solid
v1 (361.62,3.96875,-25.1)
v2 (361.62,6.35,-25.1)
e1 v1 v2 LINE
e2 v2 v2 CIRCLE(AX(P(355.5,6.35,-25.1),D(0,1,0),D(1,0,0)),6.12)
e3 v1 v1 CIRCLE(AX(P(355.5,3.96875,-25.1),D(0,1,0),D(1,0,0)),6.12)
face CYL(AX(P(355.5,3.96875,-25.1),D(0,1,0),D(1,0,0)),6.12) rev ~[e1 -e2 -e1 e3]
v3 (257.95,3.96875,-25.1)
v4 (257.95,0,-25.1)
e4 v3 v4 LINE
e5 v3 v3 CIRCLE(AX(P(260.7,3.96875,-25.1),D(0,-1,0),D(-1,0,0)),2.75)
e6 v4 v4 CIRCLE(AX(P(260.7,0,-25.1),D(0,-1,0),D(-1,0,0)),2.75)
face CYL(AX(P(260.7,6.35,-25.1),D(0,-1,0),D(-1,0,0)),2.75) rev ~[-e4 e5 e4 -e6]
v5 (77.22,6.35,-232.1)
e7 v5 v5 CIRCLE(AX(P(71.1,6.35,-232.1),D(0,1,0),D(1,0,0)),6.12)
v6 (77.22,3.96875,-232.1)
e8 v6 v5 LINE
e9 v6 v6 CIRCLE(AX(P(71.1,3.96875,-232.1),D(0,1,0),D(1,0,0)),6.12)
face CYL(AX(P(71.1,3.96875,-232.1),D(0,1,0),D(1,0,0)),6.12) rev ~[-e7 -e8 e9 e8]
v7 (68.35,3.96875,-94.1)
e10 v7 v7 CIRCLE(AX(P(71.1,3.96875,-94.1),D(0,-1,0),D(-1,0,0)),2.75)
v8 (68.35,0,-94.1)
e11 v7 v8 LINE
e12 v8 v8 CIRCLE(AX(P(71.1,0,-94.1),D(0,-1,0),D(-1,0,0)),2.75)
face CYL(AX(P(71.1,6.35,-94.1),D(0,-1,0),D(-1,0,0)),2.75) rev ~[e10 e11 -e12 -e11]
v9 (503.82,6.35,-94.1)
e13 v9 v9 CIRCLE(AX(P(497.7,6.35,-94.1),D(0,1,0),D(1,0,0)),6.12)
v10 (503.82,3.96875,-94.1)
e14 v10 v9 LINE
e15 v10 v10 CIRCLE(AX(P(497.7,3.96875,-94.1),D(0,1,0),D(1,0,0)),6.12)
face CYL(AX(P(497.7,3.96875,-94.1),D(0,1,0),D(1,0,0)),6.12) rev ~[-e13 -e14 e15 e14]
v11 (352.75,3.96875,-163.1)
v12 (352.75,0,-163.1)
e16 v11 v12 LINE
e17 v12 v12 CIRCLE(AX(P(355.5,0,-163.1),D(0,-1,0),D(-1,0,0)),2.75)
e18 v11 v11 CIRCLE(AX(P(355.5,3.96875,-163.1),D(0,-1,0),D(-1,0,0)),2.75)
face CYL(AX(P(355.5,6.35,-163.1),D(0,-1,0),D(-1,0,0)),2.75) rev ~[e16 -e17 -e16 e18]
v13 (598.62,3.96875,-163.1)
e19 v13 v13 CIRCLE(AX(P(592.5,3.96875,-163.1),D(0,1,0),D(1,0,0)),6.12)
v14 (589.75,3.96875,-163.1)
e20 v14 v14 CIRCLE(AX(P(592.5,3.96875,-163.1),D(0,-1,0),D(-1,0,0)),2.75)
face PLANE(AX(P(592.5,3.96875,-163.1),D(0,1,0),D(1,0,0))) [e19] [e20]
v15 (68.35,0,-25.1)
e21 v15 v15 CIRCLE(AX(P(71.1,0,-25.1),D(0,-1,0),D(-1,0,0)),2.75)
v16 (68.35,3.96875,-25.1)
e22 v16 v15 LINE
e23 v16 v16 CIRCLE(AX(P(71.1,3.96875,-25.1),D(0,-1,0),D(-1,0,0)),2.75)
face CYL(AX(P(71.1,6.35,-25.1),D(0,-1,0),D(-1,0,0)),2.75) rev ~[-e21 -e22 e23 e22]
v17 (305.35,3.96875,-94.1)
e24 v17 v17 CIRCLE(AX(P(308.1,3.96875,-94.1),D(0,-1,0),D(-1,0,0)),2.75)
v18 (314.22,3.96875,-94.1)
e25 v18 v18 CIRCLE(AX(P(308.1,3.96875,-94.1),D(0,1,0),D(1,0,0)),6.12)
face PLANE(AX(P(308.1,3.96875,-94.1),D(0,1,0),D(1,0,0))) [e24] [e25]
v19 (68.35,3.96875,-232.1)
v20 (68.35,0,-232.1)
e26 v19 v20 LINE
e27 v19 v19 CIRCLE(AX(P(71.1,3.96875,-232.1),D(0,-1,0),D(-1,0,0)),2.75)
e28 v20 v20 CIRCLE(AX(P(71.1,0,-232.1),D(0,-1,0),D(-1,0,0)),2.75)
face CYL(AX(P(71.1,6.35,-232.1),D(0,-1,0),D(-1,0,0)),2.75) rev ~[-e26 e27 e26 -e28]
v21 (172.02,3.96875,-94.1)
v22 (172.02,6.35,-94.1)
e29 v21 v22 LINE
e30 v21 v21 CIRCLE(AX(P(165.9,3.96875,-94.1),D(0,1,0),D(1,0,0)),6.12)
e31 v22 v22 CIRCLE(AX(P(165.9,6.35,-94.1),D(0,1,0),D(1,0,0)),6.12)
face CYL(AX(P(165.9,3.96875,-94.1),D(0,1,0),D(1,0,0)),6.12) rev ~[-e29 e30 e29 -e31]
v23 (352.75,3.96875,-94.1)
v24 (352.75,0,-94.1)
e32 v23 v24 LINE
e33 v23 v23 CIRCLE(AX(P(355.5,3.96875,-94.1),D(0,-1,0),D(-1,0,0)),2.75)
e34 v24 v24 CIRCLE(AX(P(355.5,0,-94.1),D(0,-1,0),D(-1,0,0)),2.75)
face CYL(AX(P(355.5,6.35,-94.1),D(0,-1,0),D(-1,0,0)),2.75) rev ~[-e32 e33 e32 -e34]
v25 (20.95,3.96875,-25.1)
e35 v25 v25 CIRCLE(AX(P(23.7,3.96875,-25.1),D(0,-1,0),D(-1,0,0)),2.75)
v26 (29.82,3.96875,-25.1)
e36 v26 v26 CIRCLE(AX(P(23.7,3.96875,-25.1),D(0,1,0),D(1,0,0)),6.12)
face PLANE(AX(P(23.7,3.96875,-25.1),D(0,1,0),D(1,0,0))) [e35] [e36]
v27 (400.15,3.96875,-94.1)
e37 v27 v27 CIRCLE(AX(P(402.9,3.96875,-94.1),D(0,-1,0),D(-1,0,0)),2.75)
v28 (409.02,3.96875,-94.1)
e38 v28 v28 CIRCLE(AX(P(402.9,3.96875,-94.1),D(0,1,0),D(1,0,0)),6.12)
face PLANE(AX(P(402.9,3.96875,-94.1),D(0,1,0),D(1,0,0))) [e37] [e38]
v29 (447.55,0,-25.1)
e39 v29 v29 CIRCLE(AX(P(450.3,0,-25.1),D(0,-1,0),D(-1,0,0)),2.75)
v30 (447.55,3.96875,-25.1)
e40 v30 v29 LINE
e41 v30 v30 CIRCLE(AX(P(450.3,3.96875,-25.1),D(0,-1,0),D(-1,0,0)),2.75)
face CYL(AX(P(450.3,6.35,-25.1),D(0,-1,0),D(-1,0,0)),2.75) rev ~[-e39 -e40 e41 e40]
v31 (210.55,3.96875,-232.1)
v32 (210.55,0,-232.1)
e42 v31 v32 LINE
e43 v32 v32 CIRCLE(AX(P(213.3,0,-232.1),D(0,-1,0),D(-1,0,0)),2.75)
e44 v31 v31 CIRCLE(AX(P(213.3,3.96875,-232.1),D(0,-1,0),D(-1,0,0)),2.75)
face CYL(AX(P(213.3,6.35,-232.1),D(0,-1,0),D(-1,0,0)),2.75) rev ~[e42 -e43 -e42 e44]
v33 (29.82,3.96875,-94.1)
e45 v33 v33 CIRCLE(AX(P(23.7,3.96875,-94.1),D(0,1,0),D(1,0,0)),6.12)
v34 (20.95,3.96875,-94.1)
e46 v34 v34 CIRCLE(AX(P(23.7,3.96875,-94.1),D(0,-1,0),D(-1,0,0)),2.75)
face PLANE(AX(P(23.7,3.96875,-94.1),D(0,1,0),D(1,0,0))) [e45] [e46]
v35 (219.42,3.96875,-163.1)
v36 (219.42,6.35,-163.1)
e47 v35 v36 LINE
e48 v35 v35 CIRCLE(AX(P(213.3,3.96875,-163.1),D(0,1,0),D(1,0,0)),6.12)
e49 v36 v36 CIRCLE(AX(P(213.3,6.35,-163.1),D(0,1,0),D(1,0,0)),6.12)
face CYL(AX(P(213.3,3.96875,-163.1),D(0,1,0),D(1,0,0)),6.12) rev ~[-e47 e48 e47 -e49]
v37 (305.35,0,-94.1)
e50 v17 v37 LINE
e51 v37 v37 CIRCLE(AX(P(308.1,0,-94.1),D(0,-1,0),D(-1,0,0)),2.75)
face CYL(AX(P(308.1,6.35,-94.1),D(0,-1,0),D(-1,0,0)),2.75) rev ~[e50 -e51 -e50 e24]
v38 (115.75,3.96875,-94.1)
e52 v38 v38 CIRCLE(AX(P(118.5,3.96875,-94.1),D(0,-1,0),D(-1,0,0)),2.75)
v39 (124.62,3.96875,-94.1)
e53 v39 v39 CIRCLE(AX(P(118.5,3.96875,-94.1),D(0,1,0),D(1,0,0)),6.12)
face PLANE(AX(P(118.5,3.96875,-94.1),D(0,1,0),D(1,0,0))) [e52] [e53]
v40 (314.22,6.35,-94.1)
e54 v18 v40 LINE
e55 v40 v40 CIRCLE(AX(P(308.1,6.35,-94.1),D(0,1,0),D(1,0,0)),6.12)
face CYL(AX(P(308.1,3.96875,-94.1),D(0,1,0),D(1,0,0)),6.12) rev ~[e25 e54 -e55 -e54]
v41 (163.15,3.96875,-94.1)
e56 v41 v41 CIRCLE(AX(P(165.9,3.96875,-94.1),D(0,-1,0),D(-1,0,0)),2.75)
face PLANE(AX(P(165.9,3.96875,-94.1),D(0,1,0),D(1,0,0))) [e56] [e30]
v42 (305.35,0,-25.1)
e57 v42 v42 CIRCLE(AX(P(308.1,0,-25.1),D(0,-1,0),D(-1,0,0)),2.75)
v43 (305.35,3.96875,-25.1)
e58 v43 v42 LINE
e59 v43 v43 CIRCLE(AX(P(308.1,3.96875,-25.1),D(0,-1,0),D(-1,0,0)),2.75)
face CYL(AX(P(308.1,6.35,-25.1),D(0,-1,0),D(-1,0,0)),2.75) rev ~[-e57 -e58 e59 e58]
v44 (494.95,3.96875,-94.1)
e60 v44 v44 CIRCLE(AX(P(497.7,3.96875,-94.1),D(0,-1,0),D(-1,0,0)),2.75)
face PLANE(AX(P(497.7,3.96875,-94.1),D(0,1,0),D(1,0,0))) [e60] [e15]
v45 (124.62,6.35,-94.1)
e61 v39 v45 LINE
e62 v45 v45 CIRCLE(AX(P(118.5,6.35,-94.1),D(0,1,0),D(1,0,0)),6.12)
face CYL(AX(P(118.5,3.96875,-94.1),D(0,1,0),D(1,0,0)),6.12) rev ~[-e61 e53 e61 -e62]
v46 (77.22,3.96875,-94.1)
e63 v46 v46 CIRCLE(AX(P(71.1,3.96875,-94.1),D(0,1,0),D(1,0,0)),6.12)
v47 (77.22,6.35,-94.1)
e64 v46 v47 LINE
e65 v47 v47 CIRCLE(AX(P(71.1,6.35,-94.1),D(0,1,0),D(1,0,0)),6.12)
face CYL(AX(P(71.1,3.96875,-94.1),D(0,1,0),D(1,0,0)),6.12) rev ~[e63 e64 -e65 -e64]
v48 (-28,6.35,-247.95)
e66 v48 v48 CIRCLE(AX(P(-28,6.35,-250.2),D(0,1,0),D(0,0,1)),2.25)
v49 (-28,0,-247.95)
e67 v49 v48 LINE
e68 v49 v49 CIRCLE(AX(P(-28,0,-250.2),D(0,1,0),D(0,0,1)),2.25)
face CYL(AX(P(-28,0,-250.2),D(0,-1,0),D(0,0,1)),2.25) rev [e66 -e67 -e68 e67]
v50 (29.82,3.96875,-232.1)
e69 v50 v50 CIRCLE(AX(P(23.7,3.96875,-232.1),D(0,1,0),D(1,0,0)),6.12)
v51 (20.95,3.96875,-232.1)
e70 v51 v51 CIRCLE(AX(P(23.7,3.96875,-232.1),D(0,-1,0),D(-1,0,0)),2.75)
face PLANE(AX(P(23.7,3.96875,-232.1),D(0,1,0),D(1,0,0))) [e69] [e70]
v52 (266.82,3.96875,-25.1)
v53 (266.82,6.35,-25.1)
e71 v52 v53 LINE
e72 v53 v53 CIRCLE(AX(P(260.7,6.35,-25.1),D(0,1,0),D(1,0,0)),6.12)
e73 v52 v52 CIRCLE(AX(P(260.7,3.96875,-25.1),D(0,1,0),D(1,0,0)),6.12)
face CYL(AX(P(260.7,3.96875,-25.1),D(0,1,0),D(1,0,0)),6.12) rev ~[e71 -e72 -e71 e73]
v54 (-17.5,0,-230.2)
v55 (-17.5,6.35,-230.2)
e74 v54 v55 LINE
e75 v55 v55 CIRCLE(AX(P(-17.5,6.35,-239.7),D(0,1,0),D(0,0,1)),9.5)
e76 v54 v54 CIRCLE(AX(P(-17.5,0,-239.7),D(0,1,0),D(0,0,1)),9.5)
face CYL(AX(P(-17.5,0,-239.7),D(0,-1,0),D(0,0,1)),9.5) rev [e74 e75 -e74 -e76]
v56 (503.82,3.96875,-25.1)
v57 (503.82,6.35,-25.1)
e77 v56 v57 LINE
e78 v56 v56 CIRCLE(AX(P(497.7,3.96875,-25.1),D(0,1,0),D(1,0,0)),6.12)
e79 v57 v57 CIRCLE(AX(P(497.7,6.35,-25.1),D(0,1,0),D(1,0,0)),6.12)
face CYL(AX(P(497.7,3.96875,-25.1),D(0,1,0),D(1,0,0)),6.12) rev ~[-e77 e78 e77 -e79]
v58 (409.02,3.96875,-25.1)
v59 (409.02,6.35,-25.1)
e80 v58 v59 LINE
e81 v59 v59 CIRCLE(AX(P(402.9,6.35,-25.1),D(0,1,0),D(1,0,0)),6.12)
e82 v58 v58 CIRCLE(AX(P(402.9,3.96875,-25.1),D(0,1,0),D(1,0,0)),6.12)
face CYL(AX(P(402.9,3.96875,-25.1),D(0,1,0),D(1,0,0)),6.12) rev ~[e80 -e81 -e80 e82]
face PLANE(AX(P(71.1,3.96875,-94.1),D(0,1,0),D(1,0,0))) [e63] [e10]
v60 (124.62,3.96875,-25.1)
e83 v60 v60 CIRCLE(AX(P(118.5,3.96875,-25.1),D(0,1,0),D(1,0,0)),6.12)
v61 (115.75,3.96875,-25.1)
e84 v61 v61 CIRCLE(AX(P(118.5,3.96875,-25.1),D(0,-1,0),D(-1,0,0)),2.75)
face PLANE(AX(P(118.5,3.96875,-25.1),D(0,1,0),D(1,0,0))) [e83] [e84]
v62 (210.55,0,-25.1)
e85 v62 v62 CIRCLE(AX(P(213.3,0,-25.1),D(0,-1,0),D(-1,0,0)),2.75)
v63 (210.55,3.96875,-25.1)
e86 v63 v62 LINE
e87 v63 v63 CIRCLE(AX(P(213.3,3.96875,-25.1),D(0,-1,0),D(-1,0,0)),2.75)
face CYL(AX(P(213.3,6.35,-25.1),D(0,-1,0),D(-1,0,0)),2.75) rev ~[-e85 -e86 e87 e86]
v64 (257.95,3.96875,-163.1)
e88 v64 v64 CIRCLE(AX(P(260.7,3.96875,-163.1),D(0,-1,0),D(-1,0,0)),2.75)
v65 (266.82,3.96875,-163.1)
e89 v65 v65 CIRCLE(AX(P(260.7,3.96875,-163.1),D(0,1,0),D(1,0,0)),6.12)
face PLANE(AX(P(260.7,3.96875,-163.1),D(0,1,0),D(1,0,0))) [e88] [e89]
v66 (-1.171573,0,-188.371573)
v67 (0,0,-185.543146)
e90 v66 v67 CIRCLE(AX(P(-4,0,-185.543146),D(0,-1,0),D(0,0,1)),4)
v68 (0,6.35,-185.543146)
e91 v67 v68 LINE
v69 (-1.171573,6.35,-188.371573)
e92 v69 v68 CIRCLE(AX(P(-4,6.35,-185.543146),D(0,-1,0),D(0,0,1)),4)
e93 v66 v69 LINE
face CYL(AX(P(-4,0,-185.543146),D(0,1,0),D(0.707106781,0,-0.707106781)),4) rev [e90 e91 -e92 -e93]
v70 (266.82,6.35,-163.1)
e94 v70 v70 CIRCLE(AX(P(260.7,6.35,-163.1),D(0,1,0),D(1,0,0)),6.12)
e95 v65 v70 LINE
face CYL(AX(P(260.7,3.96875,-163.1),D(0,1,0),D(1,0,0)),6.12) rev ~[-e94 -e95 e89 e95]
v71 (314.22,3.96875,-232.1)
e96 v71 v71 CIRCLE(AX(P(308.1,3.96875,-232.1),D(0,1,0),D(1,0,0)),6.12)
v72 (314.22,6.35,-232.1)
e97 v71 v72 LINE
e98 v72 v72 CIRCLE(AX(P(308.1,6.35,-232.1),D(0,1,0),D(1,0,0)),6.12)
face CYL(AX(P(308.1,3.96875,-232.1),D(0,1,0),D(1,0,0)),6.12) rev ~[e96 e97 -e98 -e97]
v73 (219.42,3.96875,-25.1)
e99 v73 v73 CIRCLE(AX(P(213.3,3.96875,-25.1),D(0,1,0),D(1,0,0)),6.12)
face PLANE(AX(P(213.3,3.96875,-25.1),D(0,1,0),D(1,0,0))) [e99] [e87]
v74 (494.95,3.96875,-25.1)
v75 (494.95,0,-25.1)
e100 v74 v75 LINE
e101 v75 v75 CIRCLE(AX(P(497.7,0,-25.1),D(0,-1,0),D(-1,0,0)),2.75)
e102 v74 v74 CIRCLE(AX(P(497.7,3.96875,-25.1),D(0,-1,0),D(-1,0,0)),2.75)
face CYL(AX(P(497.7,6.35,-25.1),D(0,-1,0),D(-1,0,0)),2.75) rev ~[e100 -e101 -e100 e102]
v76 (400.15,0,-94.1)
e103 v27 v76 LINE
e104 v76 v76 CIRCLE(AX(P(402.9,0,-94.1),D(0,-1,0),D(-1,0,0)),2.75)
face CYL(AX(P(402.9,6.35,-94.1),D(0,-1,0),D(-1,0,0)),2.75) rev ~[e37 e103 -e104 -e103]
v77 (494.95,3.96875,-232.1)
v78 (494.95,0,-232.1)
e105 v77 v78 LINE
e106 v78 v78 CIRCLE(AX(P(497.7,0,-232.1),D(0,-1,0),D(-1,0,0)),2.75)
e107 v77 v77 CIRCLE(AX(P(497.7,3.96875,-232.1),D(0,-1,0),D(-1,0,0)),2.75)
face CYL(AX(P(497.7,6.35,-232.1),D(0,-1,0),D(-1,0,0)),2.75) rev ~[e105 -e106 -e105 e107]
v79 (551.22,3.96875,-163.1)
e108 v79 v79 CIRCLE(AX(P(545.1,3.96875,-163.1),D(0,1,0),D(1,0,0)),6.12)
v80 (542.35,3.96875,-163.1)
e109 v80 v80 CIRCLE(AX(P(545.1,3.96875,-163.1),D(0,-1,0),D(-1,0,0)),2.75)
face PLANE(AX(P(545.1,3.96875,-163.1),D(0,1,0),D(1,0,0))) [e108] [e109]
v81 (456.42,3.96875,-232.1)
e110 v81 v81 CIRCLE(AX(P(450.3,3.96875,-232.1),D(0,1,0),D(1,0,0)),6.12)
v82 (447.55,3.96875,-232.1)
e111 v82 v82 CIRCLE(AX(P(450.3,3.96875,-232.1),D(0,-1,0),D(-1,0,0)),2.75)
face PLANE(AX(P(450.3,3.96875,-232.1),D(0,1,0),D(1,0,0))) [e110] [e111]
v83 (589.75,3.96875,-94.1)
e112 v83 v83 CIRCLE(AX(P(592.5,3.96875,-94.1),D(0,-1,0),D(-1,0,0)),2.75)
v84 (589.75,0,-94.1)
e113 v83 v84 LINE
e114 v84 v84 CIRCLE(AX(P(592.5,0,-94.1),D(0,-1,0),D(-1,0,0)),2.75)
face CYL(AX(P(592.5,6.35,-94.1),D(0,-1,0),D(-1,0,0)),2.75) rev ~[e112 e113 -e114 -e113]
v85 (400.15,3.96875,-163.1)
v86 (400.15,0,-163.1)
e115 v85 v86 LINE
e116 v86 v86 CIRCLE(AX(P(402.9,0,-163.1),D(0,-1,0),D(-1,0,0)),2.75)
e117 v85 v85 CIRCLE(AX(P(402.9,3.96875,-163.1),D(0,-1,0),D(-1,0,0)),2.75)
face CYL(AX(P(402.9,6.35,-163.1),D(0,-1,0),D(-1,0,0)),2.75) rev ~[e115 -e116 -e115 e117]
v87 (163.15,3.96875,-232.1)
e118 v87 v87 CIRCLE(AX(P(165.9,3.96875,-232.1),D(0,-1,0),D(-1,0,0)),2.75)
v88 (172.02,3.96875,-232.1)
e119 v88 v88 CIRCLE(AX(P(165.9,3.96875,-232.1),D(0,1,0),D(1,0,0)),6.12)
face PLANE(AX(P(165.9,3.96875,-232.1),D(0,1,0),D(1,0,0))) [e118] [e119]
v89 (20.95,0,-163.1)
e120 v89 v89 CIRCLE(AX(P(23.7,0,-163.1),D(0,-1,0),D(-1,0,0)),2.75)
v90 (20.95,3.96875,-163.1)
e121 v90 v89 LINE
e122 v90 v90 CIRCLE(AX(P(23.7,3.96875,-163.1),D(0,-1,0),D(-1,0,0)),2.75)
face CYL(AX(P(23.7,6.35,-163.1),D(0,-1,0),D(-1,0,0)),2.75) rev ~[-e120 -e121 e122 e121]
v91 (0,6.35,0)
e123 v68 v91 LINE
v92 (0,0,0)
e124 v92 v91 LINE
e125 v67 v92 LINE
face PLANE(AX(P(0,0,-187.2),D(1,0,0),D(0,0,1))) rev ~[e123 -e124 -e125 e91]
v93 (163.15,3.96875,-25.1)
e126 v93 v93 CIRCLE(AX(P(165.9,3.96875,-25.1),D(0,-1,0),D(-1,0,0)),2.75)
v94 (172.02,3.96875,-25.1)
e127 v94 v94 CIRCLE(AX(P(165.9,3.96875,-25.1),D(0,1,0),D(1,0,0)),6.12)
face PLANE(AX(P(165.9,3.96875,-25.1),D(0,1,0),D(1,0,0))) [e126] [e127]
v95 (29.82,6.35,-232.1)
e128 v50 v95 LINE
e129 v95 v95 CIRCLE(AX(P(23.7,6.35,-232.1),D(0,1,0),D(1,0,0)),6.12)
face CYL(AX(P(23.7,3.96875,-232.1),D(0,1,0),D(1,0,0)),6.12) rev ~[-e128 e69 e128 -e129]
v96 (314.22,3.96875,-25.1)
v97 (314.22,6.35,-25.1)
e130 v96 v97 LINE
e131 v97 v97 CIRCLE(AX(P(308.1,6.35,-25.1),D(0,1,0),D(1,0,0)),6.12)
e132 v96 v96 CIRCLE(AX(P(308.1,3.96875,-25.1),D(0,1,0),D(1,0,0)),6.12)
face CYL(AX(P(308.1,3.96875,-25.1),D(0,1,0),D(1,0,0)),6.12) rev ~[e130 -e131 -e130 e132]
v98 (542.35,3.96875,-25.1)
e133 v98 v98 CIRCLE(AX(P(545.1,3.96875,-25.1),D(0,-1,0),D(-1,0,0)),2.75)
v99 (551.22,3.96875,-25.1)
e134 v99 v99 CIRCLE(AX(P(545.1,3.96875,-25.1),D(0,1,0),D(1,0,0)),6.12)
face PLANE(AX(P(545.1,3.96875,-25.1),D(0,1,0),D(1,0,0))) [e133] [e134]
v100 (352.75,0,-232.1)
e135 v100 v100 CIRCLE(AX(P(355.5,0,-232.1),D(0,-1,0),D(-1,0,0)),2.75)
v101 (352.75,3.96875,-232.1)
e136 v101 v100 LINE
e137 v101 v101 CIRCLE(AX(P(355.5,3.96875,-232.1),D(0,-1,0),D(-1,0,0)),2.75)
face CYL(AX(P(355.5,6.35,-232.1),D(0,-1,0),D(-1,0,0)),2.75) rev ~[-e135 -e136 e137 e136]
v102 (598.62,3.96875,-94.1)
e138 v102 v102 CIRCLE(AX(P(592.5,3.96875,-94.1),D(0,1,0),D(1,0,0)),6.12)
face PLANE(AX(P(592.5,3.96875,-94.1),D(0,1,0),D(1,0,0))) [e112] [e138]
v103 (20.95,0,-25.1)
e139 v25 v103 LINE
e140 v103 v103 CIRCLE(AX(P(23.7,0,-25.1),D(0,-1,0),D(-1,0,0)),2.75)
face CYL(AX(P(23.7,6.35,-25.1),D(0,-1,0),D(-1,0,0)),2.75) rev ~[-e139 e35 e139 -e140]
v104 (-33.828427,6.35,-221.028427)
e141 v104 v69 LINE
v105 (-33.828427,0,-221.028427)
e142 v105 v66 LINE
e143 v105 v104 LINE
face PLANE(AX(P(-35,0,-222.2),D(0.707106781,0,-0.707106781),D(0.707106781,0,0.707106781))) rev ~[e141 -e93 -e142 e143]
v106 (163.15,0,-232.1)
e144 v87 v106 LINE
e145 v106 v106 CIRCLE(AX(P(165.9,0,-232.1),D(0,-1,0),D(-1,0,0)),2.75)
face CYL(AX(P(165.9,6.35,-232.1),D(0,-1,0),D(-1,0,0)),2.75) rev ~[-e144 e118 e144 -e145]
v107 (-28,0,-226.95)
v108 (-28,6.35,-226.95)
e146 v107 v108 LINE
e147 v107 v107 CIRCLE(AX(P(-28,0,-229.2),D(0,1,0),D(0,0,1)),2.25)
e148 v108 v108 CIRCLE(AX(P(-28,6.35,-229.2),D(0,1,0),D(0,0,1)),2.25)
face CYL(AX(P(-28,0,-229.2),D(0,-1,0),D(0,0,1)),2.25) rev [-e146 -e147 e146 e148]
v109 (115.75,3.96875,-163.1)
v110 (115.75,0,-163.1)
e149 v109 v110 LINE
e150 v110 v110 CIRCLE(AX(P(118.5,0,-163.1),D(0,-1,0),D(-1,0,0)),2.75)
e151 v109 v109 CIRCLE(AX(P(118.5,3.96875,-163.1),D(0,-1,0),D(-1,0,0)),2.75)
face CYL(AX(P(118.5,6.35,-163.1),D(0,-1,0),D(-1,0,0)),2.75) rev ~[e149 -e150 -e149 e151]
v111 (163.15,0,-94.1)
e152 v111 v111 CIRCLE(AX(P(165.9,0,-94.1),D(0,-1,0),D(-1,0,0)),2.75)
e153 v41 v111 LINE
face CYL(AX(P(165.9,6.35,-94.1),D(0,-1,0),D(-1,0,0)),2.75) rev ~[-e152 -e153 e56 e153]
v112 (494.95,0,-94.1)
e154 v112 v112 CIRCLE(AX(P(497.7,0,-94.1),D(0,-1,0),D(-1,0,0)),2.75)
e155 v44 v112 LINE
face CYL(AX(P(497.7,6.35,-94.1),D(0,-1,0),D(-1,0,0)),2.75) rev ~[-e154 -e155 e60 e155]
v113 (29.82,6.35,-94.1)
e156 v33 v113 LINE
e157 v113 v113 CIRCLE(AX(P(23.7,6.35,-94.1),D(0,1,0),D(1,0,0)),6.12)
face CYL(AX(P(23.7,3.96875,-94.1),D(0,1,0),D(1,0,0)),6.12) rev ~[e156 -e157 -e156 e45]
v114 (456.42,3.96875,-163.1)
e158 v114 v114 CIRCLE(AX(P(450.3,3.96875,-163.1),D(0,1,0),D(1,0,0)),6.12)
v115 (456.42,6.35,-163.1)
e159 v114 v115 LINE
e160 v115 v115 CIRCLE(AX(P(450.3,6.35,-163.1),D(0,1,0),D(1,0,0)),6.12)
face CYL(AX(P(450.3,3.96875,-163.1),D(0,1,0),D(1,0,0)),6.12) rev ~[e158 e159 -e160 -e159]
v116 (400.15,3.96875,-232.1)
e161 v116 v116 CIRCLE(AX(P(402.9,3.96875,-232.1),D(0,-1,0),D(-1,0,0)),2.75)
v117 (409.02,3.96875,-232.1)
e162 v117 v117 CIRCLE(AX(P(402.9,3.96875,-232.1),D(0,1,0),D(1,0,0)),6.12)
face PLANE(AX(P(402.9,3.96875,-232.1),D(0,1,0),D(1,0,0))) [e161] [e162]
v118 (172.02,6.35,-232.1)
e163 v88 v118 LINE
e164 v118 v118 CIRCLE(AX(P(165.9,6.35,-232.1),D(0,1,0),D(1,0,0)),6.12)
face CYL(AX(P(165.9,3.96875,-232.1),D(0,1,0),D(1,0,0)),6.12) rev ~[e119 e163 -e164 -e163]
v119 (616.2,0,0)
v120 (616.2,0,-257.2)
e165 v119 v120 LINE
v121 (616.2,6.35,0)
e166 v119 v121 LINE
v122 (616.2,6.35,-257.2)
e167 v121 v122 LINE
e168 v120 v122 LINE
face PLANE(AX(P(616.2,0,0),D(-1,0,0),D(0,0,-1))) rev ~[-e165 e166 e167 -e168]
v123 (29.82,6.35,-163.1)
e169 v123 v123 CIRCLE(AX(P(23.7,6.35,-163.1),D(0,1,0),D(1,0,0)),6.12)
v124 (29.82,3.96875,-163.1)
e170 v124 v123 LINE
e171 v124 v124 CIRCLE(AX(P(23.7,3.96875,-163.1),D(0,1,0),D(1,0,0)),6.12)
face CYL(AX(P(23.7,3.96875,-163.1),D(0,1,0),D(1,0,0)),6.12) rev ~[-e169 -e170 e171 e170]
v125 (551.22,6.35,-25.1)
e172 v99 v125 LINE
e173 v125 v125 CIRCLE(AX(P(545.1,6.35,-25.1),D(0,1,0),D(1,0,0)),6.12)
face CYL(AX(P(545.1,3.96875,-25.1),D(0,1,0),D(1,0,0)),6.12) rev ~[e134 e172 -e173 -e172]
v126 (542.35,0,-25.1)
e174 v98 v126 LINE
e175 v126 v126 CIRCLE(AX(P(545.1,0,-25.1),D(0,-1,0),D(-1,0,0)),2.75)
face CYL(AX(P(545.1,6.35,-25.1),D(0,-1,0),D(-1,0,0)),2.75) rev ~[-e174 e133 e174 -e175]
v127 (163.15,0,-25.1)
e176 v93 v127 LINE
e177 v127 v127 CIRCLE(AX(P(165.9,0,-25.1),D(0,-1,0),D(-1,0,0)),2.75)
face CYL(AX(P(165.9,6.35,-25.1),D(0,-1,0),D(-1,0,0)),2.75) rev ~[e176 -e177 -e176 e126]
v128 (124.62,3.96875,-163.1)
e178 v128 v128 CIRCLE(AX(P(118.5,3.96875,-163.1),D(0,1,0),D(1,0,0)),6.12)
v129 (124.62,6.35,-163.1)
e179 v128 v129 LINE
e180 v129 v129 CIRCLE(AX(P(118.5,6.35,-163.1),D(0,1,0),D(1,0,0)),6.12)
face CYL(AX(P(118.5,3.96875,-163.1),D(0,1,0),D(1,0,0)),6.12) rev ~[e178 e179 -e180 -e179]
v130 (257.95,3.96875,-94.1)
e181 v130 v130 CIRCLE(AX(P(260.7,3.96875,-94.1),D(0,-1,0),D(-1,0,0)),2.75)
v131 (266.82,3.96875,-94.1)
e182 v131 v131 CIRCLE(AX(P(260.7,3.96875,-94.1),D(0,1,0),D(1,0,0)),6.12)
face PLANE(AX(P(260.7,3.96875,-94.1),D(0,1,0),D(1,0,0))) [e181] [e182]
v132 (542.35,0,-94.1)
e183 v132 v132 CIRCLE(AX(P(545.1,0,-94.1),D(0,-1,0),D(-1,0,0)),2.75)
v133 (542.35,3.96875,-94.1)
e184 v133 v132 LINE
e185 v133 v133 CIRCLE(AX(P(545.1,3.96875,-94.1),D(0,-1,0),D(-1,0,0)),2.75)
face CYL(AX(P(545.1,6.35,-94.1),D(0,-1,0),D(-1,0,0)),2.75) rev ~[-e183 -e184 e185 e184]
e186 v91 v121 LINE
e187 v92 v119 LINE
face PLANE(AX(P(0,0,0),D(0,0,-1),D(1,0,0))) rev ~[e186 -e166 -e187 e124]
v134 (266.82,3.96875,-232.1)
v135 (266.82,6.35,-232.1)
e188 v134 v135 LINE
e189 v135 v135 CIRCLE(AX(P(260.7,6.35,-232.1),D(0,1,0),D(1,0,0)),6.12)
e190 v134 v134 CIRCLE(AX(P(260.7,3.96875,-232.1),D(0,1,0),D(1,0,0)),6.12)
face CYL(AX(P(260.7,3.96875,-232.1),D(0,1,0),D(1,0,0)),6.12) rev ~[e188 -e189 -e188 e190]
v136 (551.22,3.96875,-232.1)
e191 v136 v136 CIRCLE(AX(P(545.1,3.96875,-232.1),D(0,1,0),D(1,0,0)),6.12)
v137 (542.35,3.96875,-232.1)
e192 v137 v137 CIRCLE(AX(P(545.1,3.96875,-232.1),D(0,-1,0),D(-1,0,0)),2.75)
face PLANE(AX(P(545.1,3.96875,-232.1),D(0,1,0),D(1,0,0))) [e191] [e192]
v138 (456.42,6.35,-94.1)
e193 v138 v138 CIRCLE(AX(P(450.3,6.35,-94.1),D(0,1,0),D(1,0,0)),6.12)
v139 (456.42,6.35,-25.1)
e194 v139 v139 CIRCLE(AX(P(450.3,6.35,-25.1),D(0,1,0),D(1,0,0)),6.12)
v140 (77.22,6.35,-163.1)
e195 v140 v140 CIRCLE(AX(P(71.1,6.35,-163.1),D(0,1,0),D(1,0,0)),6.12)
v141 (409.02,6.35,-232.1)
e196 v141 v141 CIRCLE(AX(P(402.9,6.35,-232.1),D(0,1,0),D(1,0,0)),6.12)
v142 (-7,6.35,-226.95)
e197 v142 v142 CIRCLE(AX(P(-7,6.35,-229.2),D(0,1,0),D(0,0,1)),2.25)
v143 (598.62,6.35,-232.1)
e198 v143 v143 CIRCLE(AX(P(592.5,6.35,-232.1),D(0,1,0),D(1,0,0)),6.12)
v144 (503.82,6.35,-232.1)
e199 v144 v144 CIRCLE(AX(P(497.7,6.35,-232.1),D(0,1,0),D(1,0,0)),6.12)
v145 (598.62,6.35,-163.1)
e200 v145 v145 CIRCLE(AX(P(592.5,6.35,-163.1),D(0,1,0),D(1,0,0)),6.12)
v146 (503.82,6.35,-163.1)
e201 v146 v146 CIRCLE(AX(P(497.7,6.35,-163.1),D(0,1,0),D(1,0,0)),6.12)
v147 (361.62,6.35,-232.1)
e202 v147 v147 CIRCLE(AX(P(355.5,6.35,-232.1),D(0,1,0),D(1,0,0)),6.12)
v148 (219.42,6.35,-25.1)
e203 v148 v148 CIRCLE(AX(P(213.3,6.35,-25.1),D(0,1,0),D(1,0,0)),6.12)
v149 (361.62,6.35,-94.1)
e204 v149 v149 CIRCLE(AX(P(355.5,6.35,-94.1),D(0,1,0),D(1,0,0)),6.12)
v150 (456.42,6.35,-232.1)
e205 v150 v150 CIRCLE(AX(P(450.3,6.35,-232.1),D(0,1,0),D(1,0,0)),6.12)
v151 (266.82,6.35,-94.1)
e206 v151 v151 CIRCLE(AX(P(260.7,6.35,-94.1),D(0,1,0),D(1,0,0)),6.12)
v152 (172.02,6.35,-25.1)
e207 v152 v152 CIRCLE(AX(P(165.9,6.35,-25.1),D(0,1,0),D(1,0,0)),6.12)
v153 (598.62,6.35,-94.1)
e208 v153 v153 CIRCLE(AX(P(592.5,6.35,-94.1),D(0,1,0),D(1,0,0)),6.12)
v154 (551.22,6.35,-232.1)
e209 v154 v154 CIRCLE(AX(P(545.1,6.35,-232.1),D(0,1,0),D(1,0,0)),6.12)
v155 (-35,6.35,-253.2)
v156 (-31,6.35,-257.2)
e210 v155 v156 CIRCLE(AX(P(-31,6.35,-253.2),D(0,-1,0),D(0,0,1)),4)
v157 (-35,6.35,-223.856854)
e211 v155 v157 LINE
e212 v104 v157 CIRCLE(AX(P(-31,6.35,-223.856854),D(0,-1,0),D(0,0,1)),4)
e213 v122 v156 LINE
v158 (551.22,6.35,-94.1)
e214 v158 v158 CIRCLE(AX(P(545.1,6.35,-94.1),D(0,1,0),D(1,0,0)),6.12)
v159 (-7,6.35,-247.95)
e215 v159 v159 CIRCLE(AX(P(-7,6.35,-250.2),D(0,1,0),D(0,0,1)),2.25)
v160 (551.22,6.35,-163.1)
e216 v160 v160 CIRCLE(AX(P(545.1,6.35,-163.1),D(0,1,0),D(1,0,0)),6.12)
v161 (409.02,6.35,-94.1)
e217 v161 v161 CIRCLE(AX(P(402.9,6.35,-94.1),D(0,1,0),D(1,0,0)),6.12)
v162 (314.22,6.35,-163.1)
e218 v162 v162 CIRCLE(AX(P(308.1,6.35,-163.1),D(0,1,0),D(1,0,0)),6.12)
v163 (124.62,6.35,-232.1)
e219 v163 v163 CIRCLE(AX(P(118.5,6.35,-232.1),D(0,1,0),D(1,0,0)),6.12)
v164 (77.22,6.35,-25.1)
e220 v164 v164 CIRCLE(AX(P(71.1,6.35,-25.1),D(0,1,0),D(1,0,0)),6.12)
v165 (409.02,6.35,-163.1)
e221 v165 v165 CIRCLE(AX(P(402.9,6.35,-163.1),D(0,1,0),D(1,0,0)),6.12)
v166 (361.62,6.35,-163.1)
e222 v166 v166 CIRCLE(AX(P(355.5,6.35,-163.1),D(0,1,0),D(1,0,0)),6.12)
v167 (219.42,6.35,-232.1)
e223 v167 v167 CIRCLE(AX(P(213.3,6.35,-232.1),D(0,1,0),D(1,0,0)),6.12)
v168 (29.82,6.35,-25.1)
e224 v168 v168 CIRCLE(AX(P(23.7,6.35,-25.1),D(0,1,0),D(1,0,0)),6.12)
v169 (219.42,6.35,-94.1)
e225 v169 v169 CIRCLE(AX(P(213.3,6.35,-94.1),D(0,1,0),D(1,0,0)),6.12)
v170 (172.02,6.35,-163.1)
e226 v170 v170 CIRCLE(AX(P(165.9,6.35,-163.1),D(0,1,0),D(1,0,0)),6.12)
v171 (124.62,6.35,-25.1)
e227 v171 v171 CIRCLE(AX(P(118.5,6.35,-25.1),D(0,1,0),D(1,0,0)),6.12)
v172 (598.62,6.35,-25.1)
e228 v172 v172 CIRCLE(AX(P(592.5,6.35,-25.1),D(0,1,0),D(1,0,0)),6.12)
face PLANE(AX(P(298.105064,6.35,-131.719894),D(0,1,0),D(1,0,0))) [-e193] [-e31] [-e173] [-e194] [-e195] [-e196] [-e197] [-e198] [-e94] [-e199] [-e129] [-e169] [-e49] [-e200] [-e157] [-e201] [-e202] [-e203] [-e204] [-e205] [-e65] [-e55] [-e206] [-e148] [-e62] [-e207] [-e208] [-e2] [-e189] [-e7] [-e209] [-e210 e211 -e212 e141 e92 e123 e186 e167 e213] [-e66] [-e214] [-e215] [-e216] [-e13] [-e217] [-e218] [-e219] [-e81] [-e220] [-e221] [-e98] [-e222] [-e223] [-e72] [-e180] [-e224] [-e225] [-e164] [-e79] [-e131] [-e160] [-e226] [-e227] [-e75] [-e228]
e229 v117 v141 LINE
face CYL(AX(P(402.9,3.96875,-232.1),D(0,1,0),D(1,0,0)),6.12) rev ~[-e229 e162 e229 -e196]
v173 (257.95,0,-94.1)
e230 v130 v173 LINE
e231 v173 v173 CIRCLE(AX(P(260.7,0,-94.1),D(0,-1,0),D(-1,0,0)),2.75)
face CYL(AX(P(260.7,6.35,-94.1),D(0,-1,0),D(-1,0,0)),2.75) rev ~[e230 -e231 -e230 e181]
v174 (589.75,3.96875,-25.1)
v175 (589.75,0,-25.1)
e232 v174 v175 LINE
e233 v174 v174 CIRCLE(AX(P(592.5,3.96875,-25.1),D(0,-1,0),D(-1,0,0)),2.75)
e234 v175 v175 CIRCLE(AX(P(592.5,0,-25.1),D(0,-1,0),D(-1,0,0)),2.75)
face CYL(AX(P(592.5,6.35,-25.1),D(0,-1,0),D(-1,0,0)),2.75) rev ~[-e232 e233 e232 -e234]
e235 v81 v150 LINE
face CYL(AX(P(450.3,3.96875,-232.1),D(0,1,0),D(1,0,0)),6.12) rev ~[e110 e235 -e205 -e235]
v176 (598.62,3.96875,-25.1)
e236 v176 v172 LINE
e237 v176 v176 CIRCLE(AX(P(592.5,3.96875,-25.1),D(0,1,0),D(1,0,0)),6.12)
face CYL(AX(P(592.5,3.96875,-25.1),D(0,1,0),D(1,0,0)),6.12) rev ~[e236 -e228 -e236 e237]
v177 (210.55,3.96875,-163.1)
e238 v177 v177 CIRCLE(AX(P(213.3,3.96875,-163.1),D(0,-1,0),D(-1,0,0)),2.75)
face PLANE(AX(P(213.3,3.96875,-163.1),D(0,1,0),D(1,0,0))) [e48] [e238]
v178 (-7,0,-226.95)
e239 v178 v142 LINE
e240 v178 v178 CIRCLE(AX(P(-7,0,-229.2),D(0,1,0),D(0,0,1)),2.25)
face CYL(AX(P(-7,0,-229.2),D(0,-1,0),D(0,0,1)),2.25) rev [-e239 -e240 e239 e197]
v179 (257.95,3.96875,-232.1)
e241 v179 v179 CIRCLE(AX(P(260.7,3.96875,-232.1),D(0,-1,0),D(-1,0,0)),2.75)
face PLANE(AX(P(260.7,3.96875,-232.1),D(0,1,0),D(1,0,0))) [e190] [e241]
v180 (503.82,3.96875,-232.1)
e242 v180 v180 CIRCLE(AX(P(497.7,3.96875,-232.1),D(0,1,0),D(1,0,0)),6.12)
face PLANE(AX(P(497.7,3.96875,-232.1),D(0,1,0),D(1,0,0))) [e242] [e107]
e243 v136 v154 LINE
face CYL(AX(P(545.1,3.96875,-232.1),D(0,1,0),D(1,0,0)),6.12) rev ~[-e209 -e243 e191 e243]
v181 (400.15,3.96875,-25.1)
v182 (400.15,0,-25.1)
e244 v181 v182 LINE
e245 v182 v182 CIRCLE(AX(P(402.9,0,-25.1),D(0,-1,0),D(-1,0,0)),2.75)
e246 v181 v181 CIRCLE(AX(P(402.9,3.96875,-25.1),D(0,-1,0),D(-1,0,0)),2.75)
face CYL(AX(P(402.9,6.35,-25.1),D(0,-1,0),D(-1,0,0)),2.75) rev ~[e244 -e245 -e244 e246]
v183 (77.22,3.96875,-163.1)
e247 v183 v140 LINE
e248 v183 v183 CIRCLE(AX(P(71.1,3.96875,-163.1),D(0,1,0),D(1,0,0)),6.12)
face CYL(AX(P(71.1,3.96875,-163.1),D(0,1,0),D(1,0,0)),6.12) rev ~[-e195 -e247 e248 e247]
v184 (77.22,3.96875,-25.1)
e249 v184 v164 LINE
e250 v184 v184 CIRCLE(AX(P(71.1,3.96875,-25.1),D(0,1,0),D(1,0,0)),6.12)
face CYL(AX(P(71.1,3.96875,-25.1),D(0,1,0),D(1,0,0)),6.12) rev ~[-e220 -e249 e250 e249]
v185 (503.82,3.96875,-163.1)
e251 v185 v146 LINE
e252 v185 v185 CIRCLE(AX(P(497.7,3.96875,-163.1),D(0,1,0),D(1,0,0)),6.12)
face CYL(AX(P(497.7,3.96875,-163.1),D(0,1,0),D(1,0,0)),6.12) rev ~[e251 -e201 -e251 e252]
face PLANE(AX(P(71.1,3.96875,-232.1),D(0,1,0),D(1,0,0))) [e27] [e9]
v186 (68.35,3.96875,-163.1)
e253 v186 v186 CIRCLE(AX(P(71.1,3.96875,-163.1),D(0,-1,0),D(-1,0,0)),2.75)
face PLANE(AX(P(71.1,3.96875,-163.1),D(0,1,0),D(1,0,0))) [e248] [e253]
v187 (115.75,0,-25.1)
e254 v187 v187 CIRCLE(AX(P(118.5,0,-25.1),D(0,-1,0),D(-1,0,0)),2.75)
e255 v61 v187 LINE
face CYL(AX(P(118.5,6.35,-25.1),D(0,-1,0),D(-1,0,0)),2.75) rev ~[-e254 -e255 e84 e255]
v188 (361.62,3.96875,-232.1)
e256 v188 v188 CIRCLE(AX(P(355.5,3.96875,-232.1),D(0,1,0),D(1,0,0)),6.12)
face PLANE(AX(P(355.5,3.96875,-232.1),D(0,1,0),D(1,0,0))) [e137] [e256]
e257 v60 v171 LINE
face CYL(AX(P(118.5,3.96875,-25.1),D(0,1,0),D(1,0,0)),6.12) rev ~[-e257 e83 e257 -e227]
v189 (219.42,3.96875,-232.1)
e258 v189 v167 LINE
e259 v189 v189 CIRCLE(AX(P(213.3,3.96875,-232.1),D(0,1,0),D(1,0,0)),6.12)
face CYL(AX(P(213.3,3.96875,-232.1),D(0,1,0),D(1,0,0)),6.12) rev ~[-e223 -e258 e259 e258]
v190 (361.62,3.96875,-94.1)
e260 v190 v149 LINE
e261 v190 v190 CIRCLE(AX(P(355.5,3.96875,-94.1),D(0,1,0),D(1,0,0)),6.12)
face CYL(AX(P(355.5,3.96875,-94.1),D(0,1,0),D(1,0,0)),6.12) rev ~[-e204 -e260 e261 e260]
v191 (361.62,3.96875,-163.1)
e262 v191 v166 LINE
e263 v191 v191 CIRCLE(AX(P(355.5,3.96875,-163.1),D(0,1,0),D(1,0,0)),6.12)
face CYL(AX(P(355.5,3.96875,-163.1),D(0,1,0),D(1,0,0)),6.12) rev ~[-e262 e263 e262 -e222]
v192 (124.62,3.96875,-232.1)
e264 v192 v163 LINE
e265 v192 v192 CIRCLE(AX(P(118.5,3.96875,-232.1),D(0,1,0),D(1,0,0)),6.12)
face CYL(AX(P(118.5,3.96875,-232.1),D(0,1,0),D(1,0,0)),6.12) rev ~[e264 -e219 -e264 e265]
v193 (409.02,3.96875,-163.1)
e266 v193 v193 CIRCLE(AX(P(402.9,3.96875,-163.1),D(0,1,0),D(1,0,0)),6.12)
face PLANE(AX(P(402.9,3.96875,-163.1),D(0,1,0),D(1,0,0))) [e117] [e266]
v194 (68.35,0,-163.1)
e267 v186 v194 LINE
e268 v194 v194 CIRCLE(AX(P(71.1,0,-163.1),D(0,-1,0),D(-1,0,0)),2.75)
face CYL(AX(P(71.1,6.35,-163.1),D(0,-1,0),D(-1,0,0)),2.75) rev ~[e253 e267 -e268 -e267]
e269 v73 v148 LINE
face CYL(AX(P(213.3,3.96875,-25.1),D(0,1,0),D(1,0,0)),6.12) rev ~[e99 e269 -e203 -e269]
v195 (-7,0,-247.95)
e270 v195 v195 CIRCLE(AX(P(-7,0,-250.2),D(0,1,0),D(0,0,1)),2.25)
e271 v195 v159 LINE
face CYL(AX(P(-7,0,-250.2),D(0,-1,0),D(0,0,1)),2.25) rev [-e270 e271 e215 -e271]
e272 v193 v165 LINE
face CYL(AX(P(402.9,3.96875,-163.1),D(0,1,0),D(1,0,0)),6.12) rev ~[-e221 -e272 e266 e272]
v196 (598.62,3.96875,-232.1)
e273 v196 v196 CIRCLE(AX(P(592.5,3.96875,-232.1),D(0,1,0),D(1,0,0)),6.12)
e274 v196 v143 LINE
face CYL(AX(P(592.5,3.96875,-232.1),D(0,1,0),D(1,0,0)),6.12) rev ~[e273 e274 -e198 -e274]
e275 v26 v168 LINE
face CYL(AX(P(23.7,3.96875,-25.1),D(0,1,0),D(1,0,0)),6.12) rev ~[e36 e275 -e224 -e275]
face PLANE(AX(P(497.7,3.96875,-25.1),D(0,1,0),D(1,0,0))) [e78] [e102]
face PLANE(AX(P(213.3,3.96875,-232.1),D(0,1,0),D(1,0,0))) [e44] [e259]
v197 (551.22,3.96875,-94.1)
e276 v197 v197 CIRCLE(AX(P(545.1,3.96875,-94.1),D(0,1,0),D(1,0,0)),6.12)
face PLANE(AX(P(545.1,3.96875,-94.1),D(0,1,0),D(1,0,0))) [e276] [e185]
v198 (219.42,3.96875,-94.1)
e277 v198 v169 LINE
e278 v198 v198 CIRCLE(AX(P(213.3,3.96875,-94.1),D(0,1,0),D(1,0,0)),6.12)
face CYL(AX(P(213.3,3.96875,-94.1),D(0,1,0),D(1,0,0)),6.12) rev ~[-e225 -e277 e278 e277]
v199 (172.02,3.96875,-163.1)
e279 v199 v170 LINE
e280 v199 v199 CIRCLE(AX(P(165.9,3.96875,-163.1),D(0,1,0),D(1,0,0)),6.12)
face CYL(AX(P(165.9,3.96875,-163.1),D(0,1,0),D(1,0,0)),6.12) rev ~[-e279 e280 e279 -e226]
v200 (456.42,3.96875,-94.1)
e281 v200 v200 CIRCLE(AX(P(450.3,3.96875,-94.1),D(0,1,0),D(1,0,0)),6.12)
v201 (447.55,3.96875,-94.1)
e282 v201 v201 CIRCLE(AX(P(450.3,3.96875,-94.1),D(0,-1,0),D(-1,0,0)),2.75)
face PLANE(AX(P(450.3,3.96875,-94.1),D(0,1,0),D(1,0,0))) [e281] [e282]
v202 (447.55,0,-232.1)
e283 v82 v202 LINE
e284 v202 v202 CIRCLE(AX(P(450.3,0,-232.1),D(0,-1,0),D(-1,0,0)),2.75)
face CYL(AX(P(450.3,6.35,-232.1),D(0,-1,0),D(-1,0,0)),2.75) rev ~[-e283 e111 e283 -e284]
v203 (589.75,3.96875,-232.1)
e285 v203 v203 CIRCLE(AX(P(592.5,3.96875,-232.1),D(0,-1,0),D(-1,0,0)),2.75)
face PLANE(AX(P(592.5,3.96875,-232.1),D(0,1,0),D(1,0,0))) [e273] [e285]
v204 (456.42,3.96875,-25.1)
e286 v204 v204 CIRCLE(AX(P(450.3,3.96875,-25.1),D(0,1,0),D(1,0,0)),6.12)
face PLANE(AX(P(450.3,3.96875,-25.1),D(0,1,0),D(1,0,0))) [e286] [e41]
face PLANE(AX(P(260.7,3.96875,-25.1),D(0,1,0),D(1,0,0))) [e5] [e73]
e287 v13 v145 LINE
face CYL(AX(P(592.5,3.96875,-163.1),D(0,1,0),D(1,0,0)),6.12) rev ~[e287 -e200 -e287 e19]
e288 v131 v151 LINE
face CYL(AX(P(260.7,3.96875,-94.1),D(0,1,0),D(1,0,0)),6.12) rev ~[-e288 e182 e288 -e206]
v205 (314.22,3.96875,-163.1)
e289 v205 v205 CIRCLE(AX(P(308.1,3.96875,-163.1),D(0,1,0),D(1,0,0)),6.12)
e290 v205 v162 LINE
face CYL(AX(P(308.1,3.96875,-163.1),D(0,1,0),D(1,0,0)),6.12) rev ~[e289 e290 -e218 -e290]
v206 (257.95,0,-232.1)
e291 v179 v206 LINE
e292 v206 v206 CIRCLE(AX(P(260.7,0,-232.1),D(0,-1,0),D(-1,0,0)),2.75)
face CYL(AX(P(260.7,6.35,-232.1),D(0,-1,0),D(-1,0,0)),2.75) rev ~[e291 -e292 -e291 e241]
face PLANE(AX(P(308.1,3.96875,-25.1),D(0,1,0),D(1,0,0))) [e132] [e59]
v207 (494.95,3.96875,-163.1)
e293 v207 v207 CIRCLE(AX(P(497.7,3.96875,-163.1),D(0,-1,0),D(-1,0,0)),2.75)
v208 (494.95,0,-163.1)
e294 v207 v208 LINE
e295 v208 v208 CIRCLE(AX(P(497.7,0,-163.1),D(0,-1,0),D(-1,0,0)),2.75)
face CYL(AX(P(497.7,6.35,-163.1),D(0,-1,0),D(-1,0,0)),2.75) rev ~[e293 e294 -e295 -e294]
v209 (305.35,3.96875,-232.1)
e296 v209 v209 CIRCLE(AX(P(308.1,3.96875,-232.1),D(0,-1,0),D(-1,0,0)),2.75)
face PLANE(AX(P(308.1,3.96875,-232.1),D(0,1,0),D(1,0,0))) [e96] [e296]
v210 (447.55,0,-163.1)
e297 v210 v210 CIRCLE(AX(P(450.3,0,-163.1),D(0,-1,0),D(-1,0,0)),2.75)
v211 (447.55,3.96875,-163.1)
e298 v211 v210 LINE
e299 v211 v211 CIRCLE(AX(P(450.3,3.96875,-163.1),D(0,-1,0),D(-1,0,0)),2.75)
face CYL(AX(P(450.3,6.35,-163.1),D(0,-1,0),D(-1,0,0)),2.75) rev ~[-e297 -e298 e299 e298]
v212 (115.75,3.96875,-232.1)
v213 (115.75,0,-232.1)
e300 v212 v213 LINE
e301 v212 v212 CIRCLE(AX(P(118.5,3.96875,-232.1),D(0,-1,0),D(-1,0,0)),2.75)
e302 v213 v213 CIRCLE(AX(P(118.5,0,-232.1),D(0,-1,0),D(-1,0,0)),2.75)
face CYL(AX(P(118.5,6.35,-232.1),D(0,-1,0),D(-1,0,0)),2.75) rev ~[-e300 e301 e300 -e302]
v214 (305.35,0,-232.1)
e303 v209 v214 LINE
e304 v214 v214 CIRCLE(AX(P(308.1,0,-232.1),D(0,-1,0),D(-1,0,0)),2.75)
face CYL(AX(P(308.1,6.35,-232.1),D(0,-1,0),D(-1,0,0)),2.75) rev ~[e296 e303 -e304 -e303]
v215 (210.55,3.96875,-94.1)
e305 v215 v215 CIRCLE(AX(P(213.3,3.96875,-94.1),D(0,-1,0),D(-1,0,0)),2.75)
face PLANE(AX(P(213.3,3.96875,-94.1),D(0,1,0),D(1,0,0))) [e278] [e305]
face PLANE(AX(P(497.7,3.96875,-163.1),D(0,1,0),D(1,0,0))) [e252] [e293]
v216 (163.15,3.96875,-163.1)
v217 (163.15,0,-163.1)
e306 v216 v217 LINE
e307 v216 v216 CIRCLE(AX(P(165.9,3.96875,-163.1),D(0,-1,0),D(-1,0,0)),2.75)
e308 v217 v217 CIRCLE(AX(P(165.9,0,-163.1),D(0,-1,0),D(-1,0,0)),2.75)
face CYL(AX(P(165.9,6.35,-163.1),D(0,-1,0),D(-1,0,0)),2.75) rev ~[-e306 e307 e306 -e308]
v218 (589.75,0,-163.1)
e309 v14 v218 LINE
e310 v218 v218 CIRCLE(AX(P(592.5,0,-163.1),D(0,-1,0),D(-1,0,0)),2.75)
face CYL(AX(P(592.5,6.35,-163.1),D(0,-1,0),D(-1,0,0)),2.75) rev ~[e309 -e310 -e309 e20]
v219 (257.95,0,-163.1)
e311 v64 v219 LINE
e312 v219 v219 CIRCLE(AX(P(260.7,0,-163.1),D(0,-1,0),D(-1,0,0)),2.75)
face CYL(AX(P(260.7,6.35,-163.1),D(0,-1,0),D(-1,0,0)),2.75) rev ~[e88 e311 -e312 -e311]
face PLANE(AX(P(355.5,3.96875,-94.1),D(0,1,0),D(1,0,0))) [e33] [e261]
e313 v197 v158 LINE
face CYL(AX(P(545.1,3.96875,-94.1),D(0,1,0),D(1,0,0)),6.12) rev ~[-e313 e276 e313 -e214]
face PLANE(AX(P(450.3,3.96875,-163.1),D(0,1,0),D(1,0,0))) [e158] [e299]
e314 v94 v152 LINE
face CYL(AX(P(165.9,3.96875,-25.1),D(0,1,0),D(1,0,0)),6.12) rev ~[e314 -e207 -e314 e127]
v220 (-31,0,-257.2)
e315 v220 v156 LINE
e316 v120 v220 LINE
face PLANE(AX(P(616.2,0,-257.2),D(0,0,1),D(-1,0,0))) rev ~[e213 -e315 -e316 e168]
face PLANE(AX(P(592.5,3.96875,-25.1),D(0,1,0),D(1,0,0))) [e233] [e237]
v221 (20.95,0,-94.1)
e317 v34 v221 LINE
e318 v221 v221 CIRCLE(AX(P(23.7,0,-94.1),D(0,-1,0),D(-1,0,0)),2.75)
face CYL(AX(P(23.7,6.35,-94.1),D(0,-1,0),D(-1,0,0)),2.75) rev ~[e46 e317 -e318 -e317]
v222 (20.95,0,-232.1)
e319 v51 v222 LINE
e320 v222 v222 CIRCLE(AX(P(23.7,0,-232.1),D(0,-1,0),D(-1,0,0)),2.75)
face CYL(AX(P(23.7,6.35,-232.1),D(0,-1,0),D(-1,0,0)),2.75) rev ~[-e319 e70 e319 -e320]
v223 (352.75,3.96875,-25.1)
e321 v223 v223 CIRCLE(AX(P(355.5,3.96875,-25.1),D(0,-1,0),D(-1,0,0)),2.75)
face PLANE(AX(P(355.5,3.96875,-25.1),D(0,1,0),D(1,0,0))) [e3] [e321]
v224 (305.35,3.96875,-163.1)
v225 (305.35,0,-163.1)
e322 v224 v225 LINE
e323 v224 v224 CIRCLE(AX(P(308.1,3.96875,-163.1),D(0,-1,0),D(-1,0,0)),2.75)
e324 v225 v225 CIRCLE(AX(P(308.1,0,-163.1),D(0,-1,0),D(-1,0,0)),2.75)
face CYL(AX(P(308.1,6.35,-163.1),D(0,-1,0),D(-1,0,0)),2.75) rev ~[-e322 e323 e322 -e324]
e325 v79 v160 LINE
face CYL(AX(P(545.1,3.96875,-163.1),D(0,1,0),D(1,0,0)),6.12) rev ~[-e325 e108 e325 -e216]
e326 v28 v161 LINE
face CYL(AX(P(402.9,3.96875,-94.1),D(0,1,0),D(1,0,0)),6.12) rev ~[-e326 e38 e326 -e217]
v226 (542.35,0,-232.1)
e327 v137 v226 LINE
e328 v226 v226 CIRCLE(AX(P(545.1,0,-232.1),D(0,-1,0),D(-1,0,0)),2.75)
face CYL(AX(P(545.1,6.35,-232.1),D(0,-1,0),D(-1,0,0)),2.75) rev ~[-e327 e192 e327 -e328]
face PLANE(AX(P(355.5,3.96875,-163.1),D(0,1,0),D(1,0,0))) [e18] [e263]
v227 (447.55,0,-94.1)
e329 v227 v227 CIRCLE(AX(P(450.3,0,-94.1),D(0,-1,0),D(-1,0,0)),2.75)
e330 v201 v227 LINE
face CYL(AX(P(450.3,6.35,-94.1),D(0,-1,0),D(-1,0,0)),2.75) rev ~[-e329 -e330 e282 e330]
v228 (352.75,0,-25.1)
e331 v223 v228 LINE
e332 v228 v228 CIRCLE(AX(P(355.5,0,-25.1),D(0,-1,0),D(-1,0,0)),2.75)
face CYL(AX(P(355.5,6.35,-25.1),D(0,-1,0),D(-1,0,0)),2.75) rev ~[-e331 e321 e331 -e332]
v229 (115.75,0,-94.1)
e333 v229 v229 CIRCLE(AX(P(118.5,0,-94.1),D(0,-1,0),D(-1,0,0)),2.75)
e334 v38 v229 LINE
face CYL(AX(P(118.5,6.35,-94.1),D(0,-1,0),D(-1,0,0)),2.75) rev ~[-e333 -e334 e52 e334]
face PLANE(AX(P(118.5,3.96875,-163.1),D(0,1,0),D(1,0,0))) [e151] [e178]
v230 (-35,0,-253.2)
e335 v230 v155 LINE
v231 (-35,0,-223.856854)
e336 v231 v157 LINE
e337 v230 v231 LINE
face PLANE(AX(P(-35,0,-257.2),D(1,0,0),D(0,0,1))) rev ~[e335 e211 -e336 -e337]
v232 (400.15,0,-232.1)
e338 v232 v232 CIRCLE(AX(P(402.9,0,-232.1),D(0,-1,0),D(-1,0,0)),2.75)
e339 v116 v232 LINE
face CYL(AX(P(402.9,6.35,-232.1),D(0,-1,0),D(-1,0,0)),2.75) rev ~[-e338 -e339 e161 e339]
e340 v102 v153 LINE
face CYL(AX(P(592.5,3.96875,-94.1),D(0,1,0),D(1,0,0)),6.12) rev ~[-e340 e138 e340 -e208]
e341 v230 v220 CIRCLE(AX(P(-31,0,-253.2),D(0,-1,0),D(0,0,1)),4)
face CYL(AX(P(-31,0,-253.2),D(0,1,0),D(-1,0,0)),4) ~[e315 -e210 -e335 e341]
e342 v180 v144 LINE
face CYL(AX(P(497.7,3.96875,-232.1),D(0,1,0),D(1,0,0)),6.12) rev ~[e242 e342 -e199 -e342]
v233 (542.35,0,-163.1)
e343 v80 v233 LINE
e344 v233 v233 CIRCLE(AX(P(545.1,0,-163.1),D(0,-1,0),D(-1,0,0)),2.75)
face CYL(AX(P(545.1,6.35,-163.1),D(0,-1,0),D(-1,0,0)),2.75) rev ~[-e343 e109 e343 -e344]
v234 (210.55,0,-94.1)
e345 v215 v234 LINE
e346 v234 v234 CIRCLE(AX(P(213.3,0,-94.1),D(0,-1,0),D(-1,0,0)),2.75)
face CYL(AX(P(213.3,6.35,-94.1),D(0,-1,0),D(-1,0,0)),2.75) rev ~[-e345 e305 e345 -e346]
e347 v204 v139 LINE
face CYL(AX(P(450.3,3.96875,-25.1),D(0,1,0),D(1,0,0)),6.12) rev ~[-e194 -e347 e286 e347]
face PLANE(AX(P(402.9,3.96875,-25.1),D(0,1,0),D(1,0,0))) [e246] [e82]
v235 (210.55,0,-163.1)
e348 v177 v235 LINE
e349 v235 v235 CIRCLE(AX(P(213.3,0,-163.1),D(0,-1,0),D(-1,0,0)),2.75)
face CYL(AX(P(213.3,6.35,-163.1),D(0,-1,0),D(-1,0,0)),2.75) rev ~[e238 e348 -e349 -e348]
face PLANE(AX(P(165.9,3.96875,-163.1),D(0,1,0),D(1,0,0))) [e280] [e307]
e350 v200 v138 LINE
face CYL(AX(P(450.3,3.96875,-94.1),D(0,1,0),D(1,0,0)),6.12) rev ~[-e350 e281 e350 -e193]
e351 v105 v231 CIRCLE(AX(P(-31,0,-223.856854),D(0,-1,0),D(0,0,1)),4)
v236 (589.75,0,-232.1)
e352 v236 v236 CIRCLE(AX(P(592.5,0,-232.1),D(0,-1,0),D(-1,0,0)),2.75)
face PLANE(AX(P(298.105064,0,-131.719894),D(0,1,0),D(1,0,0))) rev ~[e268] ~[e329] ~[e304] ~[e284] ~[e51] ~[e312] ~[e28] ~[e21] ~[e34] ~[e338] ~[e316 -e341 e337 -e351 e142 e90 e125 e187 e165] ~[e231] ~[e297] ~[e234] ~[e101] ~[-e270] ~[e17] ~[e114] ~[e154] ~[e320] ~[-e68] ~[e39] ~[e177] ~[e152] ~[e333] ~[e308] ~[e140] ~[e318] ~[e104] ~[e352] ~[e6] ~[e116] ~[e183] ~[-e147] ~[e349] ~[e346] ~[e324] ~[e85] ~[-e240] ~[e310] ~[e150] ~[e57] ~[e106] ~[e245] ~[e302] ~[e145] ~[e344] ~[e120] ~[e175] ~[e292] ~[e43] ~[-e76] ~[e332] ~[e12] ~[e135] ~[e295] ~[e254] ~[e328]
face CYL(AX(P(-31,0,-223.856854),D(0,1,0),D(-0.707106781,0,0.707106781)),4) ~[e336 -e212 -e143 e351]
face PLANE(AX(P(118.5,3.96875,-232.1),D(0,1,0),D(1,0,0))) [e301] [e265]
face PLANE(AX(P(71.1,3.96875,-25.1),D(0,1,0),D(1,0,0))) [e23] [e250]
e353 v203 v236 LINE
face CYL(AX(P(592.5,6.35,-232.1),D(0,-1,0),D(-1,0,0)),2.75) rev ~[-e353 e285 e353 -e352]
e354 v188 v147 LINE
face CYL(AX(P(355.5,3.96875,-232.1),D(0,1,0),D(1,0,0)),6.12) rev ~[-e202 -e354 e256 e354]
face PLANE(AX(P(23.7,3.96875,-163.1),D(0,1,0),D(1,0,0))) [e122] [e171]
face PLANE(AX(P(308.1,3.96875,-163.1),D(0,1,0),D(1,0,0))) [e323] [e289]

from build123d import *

# Parameters (mm, degrees)
SKETCH1_R            = 2.25
SKETCH1_R_2          = 9.5
BOSS_EXTRUDE1_DEPTH  = 6.35
FILLET1_R            = 4
HOLE1_D              = 5.5
HOLE1_CBORE_D        = 12.24
HOLE1_CBORE_DEPTH    = 2.38125
LPATTERN1_COUNT      = 13
LPATTERN1_PITCH      = 47.4
LPATTERN1_COUNT_DIR2 = 4
LPATTERN1_PITCH_DIR2 = 69


with BuildPart() as part:
    # Sketch1 → Boss-Extrude1 (new body)
    with BuildSketch(Plane(origin=(0, 0, 0), x_dir=(1, 0, 0), z_dir=(0, 1, 0))):
        Polygon((-35, 222.2), (0, 187.2), (0, 0), (616.2, 0), (616.2, 257.2), (0, 257.2), (-35, 257.2), align=None)
        with Locations(Location((-28, 229.2, 0), (0, 0, 270))):
            Circle(SKETCH1_R, mode=Mode.SUBTRACT)
        with Locations(Location((-7, 229.2, 0), (0, 0, 270))):
            Circle(SKETCH1_R, mode=Mode.SUBTRACT)
        with Locations(Location((-7, 250.2, 0), (0, 0, 270))):
            Circle(SKETCH1_R, mode=Mode.SUBTRACT)
        with Locations(Location((-28, 250.2, 0), (0, 0, 270))):
            Circle(SKETCH1_R, mode=Mode.SUBTRACT)
        with Locations(Location((-17.5, 239.7, 0), (0, 0, 270))):
            Circle(SKETCH1_R_2, mode=Mode.SUBTRACT)
    extrude(amount=BOSS_EXTRUDE1_DEPTH)

    # Fillet1
    fillet1_edges = [part.edges().sort_by_distance(p)[0] for p in [
        (0, 3.175, -187.2),
        (-35, 3.175, -222.2),
        (-35, 3.175, -257.2),
    ]]
    fillet(fillet1_edges, radius=FILLET1_R)

    # Hole1 (through all)
    with Locations(Plane(origin=(0, 6.35, 0), x_dir=(1, 0, 0), z_dir=(0, 1, 0))):
        with Locations((23.7, 25.1)):
            hole1 = CounterBoreHole(HOLE1_D / 2, HOLE1_CBORE_D / 2, HOLE1_CBORE_DEPTH)

    # LPattern1: Hole1 13 × 4
    with Locations(*[(i * LPATTERN1_PITCH, 0, -j * LPATTERN1_PITCH_DIR2) for i in range(LPATTERN1_COUNT) for j in range(LPATTERN1_COUNT_DIR2) if (i, j) != (0, 0)]):
        add(hole1, mode=Mode.SUBTRACT)


solid = part.part
